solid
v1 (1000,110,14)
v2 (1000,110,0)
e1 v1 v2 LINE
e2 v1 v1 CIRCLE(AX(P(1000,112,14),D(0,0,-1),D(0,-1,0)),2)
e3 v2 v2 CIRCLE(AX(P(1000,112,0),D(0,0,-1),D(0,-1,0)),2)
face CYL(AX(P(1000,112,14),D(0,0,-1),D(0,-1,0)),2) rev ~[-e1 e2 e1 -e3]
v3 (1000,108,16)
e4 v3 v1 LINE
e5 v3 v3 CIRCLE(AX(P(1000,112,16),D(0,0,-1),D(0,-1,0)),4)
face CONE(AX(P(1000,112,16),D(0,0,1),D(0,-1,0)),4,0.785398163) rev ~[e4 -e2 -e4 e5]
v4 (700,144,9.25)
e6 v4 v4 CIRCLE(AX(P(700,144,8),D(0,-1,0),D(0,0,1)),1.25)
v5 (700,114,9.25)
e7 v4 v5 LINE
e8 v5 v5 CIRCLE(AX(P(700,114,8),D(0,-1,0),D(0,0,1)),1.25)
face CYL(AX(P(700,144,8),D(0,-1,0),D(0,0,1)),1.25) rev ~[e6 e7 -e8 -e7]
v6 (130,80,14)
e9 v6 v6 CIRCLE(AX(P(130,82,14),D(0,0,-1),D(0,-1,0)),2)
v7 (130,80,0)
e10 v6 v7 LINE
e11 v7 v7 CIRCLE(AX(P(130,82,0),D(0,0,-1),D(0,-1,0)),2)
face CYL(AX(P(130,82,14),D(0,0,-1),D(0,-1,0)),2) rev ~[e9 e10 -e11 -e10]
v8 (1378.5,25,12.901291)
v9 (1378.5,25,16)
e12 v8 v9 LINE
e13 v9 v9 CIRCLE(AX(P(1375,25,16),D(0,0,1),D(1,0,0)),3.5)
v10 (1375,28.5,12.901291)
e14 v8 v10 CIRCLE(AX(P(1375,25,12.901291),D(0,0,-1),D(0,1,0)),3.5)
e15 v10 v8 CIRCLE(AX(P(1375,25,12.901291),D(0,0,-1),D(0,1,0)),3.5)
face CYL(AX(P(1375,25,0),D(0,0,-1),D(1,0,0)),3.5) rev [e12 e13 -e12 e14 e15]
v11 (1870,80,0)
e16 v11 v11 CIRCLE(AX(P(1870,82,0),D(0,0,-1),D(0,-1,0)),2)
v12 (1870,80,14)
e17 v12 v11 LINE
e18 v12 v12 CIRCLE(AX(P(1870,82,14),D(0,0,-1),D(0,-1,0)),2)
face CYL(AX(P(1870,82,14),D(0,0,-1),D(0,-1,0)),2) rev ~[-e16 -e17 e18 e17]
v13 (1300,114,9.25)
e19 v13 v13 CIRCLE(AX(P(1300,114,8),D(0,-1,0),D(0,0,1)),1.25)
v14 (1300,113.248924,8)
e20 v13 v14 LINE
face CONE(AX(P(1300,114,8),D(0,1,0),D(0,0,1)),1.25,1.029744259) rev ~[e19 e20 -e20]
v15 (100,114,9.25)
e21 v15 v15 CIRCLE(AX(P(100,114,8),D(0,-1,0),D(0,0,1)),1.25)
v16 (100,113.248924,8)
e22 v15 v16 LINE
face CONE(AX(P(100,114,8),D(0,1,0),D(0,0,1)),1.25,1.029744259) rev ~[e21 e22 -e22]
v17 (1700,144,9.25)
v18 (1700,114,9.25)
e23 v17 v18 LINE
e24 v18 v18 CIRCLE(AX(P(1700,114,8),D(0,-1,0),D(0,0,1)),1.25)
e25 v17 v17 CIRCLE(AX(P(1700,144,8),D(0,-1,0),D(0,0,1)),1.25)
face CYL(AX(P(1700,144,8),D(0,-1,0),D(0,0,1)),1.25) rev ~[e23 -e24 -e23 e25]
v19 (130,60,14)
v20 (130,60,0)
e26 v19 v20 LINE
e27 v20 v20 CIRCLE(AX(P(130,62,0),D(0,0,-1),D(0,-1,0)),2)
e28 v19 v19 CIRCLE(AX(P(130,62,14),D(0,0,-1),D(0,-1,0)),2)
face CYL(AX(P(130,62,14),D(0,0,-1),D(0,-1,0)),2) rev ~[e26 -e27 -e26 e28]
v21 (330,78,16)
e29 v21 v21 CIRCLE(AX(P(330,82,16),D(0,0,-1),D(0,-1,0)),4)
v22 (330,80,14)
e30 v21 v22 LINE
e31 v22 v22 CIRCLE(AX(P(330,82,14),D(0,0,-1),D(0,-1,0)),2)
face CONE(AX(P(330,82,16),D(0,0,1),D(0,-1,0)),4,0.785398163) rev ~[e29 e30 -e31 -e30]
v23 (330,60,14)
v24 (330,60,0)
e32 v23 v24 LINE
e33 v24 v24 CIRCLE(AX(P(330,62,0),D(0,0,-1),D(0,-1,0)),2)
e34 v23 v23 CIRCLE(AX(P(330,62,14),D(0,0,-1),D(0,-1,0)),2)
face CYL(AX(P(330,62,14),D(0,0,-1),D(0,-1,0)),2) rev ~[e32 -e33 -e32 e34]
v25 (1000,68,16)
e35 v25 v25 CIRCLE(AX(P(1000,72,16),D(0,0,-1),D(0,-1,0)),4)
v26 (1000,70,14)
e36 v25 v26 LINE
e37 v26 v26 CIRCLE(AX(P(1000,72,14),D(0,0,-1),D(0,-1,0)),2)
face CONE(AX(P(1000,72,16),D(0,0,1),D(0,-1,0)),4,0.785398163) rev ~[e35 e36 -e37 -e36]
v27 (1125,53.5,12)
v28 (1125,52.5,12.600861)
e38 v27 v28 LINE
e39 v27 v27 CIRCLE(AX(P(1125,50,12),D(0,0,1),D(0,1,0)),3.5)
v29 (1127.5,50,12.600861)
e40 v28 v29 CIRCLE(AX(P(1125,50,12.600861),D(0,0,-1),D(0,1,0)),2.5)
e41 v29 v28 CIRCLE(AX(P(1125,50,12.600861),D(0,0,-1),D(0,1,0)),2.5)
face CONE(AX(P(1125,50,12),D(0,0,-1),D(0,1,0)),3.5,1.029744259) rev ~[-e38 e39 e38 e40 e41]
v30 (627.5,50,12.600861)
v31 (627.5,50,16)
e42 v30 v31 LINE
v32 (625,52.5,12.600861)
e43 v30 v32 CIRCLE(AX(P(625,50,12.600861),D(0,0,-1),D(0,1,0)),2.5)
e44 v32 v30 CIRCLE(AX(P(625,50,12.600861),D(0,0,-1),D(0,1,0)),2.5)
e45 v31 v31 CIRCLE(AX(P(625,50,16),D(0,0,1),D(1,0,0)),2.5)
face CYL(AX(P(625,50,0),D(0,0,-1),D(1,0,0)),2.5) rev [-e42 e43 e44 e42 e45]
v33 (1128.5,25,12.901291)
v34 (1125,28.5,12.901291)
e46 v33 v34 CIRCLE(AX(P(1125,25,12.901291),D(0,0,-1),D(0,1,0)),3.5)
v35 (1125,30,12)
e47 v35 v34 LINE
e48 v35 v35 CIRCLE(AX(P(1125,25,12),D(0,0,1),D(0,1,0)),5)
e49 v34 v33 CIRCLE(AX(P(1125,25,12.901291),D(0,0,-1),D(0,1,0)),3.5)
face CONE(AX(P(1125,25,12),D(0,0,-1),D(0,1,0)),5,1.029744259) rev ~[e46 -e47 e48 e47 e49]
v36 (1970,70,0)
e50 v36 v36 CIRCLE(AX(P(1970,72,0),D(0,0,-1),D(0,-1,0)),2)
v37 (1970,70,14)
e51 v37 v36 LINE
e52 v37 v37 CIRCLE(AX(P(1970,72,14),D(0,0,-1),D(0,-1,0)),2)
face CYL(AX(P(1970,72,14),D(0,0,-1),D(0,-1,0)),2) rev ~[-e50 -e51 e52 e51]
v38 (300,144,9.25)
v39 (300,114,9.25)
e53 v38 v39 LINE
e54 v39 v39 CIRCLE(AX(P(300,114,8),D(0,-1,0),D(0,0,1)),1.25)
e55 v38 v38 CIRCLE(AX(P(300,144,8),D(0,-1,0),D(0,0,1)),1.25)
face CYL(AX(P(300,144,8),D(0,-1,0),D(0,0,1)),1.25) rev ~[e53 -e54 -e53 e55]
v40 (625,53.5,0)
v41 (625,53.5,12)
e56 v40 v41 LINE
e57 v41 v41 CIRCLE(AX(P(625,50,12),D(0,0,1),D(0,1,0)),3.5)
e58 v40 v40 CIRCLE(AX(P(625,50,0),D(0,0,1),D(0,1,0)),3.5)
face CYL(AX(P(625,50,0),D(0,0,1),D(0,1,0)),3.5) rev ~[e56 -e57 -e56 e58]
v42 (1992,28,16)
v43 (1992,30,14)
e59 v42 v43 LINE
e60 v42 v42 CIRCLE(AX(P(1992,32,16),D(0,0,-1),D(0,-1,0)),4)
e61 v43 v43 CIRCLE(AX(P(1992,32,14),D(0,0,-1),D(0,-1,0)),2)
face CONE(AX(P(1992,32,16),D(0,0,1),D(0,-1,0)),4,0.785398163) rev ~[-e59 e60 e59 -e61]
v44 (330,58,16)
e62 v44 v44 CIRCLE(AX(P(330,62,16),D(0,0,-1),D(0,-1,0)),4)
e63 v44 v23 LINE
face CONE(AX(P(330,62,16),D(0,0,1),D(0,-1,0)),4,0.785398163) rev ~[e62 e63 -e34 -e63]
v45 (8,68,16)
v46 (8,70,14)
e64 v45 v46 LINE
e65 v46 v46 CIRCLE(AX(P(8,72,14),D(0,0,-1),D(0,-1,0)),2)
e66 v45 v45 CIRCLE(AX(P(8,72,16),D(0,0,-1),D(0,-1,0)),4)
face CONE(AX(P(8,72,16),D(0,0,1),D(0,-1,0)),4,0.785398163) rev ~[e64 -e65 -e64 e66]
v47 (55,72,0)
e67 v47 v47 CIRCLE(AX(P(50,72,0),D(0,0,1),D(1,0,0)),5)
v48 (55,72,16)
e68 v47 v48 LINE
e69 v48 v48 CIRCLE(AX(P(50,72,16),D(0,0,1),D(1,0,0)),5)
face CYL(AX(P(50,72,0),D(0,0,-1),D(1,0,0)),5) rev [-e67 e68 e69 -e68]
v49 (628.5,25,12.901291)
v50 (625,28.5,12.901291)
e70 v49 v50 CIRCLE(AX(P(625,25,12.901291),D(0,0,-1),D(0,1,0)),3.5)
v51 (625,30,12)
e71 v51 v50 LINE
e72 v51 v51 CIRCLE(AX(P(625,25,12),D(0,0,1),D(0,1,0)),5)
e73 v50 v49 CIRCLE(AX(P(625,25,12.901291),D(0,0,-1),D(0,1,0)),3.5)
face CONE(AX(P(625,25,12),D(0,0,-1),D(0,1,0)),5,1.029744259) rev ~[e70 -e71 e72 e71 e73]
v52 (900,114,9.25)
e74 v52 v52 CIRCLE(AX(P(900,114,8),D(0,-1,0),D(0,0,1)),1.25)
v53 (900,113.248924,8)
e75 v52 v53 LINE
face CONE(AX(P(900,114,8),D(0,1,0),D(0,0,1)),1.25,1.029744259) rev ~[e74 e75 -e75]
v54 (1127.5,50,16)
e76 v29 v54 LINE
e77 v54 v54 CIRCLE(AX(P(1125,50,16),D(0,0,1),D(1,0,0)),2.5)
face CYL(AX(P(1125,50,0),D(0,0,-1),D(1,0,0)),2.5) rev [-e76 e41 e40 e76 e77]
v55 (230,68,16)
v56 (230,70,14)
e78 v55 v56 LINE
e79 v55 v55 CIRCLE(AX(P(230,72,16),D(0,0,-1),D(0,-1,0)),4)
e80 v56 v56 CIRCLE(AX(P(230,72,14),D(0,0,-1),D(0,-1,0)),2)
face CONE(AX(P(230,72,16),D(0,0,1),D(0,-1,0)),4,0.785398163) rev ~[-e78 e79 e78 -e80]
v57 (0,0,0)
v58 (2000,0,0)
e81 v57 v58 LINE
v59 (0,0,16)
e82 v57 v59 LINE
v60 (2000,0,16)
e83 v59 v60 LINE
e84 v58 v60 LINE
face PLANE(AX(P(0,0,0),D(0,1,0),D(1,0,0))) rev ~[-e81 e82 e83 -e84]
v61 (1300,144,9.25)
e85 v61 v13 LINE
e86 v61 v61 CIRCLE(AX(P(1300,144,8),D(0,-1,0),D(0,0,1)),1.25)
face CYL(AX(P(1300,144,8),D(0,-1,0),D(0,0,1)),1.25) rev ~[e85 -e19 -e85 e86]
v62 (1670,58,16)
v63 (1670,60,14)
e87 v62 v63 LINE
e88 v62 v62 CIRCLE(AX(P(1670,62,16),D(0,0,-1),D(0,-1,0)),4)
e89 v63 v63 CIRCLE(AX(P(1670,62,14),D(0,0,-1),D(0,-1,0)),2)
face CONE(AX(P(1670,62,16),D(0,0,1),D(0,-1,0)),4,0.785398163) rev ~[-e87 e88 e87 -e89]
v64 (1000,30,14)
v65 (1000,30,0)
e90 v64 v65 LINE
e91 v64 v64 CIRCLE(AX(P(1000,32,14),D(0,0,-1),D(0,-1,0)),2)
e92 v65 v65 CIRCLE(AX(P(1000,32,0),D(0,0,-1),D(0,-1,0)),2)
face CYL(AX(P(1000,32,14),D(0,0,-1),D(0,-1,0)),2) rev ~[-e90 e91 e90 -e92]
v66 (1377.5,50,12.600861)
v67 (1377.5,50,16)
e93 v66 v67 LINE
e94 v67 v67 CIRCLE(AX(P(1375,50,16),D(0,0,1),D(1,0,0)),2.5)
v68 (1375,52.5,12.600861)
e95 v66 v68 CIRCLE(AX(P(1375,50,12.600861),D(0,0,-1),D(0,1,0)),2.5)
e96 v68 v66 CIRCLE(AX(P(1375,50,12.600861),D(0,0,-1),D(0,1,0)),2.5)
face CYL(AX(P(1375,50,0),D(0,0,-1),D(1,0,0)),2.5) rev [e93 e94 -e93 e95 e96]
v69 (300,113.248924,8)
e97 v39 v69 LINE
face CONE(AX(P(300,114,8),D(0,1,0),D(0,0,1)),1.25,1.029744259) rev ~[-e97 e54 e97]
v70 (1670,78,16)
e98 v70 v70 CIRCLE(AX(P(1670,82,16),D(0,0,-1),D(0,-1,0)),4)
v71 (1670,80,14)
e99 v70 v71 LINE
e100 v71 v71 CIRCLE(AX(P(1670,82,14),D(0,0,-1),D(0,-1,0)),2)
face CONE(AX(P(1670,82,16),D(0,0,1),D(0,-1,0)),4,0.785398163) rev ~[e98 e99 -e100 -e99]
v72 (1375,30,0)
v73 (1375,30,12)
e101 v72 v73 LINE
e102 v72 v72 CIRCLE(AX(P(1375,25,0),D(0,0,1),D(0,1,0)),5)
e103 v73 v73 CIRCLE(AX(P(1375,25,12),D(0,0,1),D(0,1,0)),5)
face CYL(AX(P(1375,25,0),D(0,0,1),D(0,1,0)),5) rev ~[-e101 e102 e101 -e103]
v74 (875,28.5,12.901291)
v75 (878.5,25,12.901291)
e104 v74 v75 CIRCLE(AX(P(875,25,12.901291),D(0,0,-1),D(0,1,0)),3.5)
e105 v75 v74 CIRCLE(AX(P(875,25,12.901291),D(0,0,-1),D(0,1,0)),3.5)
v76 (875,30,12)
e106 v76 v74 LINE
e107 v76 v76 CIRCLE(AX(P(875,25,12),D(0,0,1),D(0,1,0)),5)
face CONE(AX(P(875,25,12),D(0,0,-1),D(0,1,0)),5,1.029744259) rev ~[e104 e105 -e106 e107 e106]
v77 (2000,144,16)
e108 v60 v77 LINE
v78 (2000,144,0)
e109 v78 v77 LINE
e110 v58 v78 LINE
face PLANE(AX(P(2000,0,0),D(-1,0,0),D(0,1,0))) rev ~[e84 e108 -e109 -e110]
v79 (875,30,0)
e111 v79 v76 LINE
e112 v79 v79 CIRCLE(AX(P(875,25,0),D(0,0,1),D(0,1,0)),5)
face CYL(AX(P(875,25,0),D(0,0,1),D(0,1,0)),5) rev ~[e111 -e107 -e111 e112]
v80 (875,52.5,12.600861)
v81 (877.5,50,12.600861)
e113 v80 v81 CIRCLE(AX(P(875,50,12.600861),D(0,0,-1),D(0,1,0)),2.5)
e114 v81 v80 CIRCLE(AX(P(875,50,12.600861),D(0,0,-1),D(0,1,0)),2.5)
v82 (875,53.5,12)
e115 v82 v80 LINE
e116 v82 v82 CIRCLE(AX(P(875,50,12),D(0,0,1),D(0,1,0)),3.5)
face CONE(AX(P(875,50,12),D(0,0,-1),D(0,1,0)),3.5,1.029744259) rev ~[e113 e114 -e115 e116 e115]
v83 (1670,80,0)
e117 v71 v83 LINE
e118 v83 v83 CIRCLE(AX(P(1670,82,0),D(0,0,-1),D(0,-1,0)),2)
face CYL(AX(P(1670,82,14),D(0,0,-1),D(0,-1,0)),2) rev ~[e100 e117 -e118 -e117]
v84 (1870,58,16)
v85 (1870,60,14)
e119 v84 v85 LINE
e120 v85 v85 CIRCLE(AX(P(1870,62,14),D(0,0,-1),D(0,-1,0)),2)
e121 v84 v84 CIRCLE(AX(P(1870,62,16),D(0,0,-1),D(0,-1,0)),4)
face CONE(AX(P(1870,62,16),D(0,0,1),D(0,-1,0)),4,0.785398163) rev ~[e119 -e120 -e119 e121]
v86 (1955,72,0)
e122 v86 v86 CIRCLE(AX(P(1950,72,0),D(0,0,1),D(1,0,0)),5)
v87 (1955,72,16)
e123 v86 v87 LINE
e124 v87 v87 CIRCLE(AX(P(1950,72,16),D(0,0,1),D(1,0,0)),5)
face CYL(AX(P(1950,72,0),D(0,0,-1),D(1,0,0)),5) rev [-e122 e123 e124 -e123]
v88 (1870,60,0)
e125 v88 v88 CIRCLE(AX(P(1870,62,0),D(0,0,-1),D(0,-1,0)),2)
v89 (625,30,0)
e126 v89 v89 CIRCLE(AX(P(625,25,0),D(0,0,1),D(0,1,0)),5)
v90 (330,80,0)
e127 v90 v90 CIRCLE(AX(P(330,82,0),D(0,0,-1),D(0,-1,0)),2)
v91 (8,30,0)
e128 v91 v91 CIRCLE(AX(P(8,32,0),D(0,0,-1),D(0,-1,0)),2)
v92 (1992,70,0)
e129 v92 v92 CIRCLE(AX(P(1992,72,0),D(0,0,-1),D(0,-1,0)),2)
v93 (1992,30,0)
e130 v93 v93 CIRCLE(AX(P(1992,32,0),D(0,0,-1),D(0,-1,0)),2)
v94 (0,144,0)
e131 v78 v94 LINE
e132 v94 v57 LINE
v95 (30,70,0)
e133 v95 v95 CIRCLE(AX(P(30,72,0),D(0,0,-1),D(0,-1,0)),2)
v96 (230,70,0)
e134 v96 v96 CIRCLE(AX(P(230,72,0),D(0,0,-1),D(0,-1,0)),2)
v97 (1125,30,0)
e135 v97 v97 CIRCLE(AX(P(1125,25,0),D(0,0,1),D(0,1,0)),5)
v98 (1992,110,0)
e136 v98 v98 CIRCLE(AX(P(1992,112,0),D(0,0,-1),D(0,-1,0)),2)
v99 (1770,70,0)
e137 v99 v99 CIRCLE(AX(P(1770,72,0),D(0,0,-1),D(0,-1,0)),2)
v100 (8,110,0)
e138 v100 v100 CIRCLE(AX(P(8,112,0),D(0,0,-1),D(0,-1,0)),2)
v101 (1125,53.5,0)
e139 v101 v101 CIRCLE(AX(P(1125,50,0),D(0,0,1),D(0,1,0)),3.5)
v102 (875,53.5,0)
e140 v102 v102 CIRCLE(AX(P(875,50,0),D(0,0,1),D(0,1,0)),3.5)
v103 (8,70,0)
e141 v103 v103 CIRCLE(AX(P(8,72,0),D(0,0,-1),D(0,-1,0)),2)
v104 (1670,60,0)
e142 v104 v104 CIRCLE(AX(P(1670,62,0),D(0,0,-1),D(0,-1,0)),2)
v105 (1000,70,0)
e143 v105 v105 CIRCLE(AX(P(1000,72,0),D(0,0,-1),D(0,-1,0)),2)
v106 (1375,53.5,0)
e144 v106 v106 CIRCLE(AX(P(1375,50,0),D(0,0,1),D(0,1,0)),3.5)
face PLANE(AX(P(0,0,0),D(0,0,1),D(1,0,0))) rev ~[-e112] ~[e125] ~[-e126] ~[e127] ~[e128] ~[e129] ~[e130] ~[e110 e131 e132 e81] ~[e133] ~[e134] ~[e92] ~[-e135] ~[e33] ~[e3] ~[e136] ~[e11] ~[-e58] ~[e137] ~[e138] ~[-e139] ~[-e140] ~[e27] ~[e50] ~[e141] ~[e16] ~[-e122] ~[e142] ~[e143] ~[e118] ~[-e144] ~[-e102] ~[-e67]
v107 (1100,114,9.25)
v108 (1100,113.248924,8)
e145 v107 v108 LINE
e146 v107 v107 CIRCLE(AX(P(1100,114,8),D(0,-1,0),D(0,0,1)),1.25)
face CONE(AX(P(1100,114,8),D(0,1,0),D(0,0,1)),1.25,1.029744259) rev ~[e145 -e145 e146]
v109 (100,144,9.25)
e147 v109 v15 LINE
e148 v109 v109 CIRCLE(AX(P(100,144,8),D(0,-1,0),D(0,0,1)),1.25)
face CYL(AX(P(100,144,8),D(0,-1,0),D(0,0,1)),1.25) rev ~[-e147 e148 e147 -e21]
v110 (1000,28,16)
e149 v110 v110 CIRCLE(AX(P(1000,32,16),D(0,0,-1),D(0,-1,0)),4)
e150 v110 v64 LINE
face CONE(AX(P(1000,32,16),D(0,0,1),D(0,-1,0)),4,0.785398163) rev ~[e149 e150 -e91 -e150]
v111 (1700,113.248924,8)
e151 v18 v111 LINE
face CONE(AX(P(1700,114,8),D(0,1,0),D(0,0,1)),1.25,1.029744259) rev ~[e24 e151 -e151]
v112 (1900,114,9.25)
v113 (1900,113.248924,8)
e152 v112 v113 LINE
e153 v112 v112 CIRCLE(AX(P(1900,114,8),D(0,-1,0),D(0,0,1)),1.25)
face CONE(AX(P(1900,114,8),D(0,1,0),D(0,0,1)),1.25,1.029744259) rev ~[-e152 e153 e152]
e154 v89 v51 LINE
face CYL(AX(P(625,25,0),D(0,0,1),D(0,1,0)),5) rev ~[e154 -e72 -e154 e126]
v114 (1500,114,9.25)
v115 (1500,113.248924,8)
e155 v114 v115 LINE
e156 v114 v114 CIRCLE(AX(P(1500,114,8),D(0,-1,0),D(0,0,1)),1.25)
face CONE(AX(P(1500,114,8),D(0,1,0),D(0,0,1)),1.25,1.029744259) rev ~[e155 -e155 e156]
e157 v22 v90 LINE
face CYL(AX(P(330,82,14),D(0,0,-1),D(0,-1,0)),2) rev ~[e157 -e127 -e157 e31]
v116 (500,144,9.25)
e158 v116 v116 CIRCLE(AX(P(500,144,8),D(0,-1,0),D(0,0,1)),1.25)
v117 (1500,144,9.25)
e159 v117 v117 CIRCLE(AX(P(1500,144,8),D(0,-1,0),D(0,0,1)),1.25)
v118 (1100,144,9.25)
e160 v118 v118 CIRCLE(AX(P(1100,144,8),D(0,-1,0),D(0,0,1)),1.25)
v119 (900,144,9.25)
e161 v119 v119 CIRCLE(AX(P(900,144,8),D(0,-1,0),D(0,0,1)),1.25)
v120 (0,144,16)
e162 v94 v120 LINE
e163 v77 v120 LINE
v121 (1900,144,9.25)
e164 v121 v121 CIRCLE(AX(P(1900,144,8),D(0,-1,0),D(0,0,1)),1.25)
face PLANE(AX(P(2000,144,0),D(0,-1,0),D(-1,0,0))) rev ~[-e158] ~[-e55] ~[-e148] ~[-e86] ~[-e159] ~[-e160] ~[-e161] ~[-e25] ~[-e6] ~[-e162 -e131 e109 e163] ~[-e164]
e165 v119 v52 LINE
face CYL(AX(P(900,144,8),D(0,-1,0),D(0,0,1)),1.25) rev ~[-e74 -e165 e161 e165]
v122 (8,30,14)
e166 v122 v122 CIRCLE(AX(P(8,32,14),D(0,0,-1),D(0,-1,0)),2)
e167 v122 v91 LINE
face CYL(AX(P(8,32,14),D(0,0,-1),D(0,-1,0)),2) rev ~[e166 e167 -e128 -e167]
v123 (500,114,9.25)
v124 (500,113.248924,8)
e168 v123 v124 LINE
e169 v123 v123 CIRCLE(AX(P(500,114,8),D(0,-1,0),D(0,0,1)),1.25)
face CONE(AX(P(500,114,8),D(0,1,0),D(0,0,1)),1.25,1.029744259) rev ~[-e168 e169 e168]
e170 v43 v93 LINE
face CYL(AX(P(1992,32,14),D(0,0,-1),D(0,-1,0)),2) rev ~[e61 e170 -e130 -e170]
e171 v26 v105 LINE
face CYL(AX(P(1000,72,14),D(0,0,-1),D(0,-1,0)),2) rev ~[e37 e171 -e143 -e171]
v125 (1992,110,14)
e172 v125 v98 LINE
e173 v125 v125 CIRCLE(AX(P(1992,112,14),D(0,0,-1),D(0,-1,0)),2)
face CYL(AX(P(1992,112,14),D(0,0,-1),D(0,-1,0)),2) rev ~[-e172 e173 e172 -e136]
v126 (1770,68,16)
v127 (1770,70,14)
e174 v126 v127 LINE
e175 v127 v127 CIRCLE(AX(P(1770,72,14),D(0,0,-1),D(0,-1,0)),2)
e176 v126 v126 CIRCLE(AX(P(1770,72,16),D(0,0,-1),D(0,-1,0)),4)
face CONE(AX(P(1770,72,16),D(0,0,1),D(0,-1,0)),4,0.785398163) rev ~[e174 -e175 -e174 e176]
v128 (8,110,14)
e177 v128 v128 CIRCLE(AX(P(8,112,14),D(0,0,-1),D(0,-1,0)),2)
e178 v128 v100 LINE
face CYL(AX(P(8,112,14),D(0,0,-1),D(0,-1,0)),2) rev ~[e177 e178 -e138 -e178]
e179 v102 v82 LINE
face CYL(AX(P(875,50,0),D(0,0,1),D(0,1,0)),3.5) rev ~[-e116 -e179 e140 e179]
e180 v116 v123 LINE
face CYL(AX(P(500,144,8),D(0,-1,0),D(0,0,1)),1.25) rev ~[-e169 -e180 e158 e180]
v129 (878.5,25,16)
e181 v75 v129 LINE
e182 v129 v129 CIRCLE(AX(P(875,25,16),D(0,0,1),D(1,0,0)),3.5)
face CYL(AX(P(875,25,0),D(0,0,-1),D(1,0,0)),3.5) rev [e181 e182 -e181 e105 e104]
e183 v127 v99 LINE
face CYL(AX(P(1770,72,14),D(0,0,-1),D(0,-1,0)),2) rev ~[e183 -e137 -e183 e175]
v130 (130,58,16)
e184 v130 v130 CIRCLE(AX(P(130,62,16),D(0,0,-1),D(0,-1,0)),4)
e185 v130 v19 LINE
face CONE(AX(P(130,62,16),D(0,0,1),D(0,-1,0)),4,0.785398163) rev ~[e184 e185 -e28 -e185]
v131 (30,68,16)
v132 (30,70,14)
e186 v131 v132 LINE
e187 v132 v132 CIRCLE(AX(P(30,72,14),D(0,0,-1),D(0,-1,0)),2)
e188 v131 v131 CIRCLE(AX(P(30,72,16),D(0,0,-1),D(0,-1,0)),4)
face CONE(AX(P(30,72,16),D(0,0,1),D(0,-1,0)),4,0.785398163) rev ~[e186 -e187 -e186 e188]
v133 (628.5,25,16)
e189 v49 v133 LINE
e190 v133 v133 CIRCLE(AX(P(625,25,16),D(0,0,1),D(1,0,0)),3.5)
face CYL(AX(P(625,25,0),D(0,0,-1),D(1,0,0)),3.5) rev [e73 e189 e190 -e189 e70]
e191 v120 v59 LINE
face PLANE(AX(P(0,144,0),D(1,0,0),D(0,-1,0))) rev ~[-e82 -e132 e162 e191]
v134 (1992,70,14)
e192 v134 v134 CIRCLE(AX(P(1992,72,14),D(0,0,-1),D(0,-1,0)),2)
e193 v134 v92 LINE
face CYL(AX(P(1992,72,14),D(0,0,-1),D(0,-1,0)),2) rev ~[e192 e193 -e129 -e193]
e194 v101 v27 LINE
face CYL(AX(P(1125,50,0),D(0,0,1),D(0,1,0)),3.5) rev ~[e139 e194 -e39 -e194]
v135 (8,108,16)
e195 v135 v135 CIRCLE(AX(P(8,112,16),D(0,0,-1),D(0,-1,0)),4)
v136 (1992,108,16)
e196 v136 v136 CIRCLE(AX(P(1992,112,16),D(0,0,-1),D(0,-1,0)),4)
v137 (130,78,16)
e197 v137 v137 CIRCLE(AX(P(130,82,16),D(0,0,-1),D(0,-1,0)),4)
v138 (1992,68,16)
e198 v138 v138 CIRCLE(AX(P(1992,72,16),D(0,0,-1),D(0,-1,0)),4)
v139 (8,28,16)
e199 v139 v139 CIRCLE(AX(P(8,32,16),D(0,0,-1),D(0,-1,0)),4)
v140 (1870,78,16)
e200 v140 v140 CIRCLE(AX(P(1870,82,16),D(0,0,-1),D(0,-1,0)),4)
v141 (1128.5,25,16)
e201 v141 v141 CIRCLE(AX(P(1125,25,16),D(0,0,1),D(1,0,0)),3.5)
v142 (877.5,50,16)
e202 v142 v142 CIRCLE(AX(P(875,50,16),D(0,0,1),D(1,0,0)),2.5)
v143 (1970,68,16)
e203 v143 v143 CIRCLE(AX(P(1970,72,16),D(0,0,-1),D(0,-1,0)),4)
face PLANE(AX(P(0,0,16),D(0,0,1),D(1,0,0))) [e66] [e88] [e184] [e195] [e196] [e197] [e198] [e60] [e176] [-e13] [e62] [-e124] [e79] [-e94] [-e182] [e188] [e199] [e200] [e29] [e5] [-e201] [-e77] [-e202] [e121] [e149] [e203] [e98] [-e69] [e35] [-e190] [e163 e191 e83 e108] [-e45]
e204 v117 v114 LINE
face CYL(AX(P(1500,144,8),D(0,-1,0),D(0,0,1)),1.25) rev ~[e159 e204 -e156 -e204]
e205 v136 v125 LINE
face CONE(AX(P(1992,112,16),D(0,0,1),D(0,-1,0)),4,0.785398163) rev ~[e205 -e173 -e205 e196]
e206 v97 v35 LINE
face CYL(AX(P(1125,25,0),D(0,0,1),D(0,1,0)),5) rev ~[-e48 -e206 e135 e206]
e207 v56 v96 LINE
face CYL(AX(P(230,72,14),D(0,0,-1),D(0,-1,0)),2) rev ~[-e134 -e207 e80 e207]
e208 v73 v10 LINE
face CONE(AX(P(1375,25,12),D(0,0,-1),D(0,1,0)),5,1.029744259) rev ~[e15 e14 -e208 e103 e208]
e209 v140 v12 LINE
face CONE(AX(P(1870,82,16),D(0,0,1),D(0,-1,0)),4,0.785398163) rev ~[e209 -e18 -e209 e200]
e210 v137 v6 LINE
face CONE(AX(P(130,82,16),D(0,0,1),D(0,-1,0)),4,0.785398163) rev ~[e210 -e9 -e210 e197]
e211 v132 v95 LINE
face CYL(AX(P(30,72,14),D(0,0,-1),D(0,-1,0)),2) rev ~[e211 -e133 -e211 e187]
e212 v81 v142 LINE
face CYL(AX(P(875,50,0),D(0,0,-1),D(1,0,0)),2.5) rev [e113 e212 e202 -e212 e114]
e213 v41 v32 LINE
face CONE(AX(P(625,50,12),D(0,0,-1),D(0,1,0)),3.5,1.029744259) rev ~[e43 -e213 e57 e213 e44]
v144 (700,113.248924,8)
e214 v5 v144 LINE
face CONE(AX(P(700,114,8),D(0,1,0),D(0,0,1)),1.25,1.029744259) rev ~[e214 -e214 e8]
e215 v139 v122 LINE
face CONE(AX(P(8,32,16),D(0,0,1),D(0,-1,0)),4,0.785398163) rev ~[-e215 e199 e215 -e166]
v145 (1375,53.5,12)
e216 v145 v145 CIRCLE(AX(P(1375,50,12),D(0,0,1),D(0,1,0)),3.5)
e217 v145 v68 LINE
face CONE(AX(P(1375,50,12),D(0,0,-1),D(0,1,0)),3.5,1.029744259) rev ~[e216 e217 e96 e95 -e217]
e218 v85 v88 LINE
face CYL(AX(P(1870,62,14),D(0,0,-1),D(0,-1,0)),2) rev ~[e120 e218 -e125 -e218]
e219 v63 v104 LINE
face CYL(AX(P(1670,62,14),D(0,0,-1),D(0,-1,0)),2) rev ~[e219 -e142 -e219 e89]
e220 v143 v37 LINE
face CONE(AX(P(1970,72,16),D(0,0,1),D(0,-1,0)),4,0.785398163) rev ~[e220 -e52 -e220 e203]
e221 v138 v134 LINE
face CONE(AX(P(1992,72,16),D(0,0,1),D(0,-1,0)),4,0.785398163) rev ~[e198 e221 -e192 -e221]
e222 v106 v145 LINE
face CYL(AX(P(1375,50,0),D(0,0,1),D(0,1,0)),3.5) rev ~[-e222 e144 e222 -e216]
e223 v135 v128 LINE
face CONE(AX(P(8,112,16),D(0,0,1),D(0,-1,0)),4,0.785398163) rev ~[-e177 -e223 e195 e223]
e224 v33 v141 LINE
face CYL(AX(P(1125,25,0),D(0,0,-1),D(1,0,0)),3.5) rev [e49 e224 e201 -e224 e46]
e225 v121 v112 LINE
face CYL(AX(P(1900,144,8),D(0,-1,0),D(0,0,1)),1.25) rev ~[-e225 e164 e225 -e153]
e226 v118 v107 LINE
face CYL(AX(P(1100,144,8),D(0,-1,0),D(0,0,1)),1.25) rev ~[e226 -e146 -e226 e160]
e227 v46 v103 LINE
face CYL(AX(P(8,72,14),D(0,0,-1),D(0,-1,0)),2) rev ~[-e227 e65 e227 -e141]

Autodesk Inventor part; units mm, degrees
ref_plane "YZ Plane" through (0, 0, 0) normal (1, 0, 0) x (0, 1, 0)
ref_plane "XZ Plane" through (0, 0, 0) normal (0, 1, 0) x (-1, 0, 0)
ref_plane "XY Plane" through (0, 0, 0) normal (0, 0, 1) x (1, 0, 0)
sketch "Skizze1" plane through (0, 0, 0) normal (0, 0, 1) x (1, 0, 0)
  line L0 (0, 0) -> (2000, 0)
  line L1 (2000, 0) -> (2000, 144)
  line L2 (2000, 144) -> (0, 144)
  line L3 (0, 144) -> (0, 0)
  line L4 (0, 25) -> (2000, 25) construction
  line L5 (0, 50) -> (2000, 50) construction
  line L6 (1000, 0) -> (1000, 144) construction
  line L7 (875, 0) -> (875, 144) construction
  line L8 (1125, 144) -> (1125, 0) construction
  line L9 (1375, 144) -> (1375, 0) construction
  line L10 (625, 144) -> (625, 0) construction
  circle A0 centre (625, 50) radius 2.5
  circle A1 centre (875, 50) radius 2.5
  circle A2 centre (1125, 50) radius 2.5
  circle A3 centre (1375, 50) radius 2.5
  circle A4 centre (1375, 25) radius 3.5
  circle A5 centre (1125, 25) radius 3.5
  circle A6 centre (875, 25) radius 3.5
  circle A7 centre (625, 25) radius 3.5
  line L11 (50, 144) -> (50, 0) construction
  circle A8 centre (50, 72) radius 5
  line L12 (1950, 144) -> (1950, 0) construction
  circle A9 centre (1950, 72) radius 5
  line L13 (1992, 144) -> (1992, 0) construction
  line L14 (2000, 112) -> (0, 112) construction
  line L15 (2000, 32) -> (0, 32) construction
  circle A10 centre (1992, 112) radius 1.5
  circle A11 centre (1992, 32) radius 1.5
  line L16 (8, 144) -> (8, 0) construction
  circle A12 centre (8, 112) radius 1.5
  circle A13 centre (8, 72) radius 1.5
  circle A14 centre (8, 32) radius 1.5
  circle A15 centre (1992, 72) radius 1.5
  circle A16 centre (1000, 72) radius 1.5
  circle A17 centre (1000, 112) radius 1.5
  circle A18 centre (1000, 32) radius 1.5
  circle A19 centre (1870, 62) radius 1.5
  circle A20 centre (1970, 72) radius 1.5
  circle A21 centre (1870, 82) radius 1.5
  circle A22 centre (1670, 82) radius 1.5
  circle A23 centre (1670, 62) radius 1.5
  circle A24 centre (1770, 72) radius 1.5
  line L17 (2000, 72) -> (1650, 72) construction
  line L18 (1870, 82) -> (1670, 82) construction
  line L19 (1670, 82) -> (1670, 62) construction
  line L20 (1670, 62) -> (1870, 62) construction
  line L21 (1870, 62) -> (1870, 82) construction
  line L22 (0, 72) -> (350, 72) construction
  circle A25 centre (30, 72) radius 1.5
  circle A26 centre (130, 82) radius 1.5
  circle A27 centre (130, 62) radius 1.5
  circle A28 centre (230, 72) radius 1.5
  circle A29 centre (330, 82) radius 1.5
  circle A30 centre (330, 62) radius 1.5
  line L23 (130, 82) -> (330, 82) construction
  line L24 (330, 82) -> (330, 62) construction
  line L25 (330, 62) -> (130, 62) construction
  line L26 (130, 62) -> (130, 82) construction
  dimension "d0" = 2000
  dimension "d1" = 144
  dimension "d2" = 25
  dimension "d3" = 50
  dimension "d4" = 125
  dimension "d5" = 125
  dimension "d6" = 250
  dimension "d7" = 250
  dimension "d8" = 5
  dimension "d9" = 5
  dimension "d10" = 5
  dimension "d11" = 5
  dimension "d12" = 7
  dimension "d13" = 7
  dimension "d14" = 7
  dimension "d15" = 7
  dimension "d16" = 50
  dimension "d17" = 10
  dimension "d18" = 50
  dimension "d19" = 10
  dimension "d20" = 8
  dimension "d21" = 40
  dimension "d22" = 40
  dimension "d23" = 3
  dimension "d24" = 3
  dimension "d25" = 8
  dimension "d26" = 3
  dimension "d27" = 3
  dimension "d28" = 3
  dimension "d29" = 3
  dimension "d30" = 3
  dimension "d31" = 3
  dimension "d32" = 3
  dimension "d137" = 3
  dimension "d138" = 3
  dimension "d139" = 3
  dimension "d141" = 3
  dimension "d142" = 3
  dimension "d143" = 3
  dimension "d144" = 350
  dimension "d145" = 30
  dimension "d146" = 100
  dimension "d147" = 100
  dimension "d148" = 100
  dimension "d149" = 10
  dimension "d150" = 10
  dimension "d151" = 350
  dimension "d152" = 3
  dimension "d153" = 3
  dimension "d154" = 3
  dimension "d155" = 3
  dimension "d156" = 3
  dimension "d157" = 3
  dimension "d158" = 30
  dimension "d159" = 100
  dimension "d160" = 100
  dimension "d161" = 100
  dimension "d162" = 10
  dimension "d163" = 10
extrude "Extrusion1" add sketch "Skizze1" along normal blind 16
hole "Bohrung1" at (1375, 25, 0) at (1125, 25, 0) at (875, 25, 0) at (625, 25, 0) direction (0, 0, 1) diameter 10 depth 12 tip angle 118
hole "Bohrung4" at (1125, 50, 0) at (875, 50, 0) at (625, 50, 0) at (1375, 50, 0) direction (0, 0, 1) diameter 7 depth 12 tip angle 118
sketch "Skizze4" plane through (0, 0, 16) normal (0, 0, 1) x (1, 0, 0)
  circle A0 centre (8, 112) radius 1.5 projected
  circle A1 centre (8, 72) radius 1.5 projected
  circle A2 centre (8, 32) radius 1.5 projected
  circle A3 centre (30, 72) radius 1.5 projected
  circle A4 centre (1950, 72) radius 5 projected
  circle A5 centre (50, 72) radius 5 projected
  circle A6 centre (625, 25) radius 3.5 projected
  circle A7 centre (875, 25) radius 3.5 projected
  circle A8 centre (1125, 25) radius 3.5 projected
  circle A9 centre (1375, 25) radius 3.5 projected
  circle A10 centre (1375, 50) radius 2.5 projected
  circle A11 centre (1125, 50) radius 2.5 projected
  circle A12 centre (875, 50) radius 2.5 projected
  circle A13 centre (625, 50) radius 2.5 projected
  circle A14 centre (330, 62) radius 1.5 projected
  circle A15 centre (330, 82) radius 1.5 projected
  circle A16 centre (230, 72) radius 1.5 projected
  circle A17 centre (130, 62) radius 1.5 projected
  circle A18 centre (130, 82) radius 1.5 projected
  circle A19 centre (30, 72) radius 1.5 projected
  circle A20 centre (1770, 72) radius 1.5 projected
  circle A21 centre (1670, 62) radius 1.5 projected
  circle A22 centre (1670, 82) radius 1.5 projected
  circle A23 centre (1870, 82) radius 1.5 projected
  circle A24 centre (1970, 72) radius 1.5 projected
  circle A25 centre (1870, 62) radius 1.5 projected
  circle A26 centre (1000, 32) radius 1.5 projected
  circle A27 centre (1000, 112) radius 1.5 projected
  circle A28 centre (1000, 72) radius 1.5 projected
  circle A29 centre (1992, 72) radius 1.5 projected
  circle A30 centre (8, 32) radius 1.5 projected
  circle A31 centre (8, 72) radius 1.5 projected
  circle A32 centre (8, 112) radius 1.5 projected
  circle A33 centre (1992, 32) radius 1.5 projected
  circle A34 centre (1992, 112) radius 1.5 projected
  line L0 (0, 0) -> (2000, 0) projected
  line L1 (2000, 0) -> (2000, 144) projected
  line L2 (2000, 144) -> (0, 144) projected
  line L3 (0, 144) -> (0, 0) projected
hole "Bohrung15" at (1970, 72, 16) at (1992, 32, 16) at (1992, 72, 16) at (1992, 112, 16) at (1870, 82, 16) at (1870, 62, 16) at (1670, 62, 16) at (1670, 82, 16) at (1770, 72, 16) at (1000, 112, 16) at (1000, 72, 16) at (1000, 32, 16) at (330, 62, 16) at (330, 82, 16) at (230, 72, 16) at (130, 62, 16) at (130, 82, 16) at (8, 72, 16) at (30, 72, 16) at (8, 112, 16) at (8, 32, 16) direction (0, 0, -1) diameter 4 end through all countersink diameter 8 countersink angle 90
sketch "Skizze5" plane through (0, 144, 0) normal (0, 1, 0) x (1, 0, 0)
  line L0 (2000, -16) -> (0, -16) construction
  line L1 (0, -16) -> (0, 0) construction
  line L2 (0, 0) -> (2000, 0) construction
  line L3 (2000, 0) -> (2000, -16) construction
  line L4 (0, 0) -> (0, -16) construction
  line L5 (0, -8) -> (2000, -8) construction
  line L6 (2000, 0) -> (2000, -16) construction
  line L7 (0, -16) -> (2000, -16) construction
  line L8 (1000, -16) -> (1000, 0) construction
  line L9 (0, 0) -> (2000, 0) construction
  point P0 (1100, -8)
  point P1 (1300, -8)
  point P2 (1500, -8)
  point P3 (1700, -8)
  point P4 (1900, -8)
  point P5 (900, -8)
  point P6 (700, -8)
  point P7 (500, -8)
  point P8 (300, -8)
  point P9 (100, -8)
  dimension "d189" = 100
  dimension "d190" = 200
  dimension "d191" = 200
  dimension "d192" = 200
  dimension "d193" = 200
  dimension "d194" = 100
  dimension "d195" = 200
  dimension "d196" = 200
  dimension "d197" = 200
  dimension "d198" = 200
hole "Bohrung16" at (1900, 144, 8) at (1700, 144, 8) at (1500, 144, 8) at (1300, 144, 8) at (900, 144, 8) at (700, 144, 8) at (500, 144, 8) at (1100, 144, 8) at (300, 144, 8) at (100, 144, 8) direction (0, -1, 0) diameter 2.5 depth 30 tip angle 118
properties part number "licht_200_front" material "Spanplatte"
